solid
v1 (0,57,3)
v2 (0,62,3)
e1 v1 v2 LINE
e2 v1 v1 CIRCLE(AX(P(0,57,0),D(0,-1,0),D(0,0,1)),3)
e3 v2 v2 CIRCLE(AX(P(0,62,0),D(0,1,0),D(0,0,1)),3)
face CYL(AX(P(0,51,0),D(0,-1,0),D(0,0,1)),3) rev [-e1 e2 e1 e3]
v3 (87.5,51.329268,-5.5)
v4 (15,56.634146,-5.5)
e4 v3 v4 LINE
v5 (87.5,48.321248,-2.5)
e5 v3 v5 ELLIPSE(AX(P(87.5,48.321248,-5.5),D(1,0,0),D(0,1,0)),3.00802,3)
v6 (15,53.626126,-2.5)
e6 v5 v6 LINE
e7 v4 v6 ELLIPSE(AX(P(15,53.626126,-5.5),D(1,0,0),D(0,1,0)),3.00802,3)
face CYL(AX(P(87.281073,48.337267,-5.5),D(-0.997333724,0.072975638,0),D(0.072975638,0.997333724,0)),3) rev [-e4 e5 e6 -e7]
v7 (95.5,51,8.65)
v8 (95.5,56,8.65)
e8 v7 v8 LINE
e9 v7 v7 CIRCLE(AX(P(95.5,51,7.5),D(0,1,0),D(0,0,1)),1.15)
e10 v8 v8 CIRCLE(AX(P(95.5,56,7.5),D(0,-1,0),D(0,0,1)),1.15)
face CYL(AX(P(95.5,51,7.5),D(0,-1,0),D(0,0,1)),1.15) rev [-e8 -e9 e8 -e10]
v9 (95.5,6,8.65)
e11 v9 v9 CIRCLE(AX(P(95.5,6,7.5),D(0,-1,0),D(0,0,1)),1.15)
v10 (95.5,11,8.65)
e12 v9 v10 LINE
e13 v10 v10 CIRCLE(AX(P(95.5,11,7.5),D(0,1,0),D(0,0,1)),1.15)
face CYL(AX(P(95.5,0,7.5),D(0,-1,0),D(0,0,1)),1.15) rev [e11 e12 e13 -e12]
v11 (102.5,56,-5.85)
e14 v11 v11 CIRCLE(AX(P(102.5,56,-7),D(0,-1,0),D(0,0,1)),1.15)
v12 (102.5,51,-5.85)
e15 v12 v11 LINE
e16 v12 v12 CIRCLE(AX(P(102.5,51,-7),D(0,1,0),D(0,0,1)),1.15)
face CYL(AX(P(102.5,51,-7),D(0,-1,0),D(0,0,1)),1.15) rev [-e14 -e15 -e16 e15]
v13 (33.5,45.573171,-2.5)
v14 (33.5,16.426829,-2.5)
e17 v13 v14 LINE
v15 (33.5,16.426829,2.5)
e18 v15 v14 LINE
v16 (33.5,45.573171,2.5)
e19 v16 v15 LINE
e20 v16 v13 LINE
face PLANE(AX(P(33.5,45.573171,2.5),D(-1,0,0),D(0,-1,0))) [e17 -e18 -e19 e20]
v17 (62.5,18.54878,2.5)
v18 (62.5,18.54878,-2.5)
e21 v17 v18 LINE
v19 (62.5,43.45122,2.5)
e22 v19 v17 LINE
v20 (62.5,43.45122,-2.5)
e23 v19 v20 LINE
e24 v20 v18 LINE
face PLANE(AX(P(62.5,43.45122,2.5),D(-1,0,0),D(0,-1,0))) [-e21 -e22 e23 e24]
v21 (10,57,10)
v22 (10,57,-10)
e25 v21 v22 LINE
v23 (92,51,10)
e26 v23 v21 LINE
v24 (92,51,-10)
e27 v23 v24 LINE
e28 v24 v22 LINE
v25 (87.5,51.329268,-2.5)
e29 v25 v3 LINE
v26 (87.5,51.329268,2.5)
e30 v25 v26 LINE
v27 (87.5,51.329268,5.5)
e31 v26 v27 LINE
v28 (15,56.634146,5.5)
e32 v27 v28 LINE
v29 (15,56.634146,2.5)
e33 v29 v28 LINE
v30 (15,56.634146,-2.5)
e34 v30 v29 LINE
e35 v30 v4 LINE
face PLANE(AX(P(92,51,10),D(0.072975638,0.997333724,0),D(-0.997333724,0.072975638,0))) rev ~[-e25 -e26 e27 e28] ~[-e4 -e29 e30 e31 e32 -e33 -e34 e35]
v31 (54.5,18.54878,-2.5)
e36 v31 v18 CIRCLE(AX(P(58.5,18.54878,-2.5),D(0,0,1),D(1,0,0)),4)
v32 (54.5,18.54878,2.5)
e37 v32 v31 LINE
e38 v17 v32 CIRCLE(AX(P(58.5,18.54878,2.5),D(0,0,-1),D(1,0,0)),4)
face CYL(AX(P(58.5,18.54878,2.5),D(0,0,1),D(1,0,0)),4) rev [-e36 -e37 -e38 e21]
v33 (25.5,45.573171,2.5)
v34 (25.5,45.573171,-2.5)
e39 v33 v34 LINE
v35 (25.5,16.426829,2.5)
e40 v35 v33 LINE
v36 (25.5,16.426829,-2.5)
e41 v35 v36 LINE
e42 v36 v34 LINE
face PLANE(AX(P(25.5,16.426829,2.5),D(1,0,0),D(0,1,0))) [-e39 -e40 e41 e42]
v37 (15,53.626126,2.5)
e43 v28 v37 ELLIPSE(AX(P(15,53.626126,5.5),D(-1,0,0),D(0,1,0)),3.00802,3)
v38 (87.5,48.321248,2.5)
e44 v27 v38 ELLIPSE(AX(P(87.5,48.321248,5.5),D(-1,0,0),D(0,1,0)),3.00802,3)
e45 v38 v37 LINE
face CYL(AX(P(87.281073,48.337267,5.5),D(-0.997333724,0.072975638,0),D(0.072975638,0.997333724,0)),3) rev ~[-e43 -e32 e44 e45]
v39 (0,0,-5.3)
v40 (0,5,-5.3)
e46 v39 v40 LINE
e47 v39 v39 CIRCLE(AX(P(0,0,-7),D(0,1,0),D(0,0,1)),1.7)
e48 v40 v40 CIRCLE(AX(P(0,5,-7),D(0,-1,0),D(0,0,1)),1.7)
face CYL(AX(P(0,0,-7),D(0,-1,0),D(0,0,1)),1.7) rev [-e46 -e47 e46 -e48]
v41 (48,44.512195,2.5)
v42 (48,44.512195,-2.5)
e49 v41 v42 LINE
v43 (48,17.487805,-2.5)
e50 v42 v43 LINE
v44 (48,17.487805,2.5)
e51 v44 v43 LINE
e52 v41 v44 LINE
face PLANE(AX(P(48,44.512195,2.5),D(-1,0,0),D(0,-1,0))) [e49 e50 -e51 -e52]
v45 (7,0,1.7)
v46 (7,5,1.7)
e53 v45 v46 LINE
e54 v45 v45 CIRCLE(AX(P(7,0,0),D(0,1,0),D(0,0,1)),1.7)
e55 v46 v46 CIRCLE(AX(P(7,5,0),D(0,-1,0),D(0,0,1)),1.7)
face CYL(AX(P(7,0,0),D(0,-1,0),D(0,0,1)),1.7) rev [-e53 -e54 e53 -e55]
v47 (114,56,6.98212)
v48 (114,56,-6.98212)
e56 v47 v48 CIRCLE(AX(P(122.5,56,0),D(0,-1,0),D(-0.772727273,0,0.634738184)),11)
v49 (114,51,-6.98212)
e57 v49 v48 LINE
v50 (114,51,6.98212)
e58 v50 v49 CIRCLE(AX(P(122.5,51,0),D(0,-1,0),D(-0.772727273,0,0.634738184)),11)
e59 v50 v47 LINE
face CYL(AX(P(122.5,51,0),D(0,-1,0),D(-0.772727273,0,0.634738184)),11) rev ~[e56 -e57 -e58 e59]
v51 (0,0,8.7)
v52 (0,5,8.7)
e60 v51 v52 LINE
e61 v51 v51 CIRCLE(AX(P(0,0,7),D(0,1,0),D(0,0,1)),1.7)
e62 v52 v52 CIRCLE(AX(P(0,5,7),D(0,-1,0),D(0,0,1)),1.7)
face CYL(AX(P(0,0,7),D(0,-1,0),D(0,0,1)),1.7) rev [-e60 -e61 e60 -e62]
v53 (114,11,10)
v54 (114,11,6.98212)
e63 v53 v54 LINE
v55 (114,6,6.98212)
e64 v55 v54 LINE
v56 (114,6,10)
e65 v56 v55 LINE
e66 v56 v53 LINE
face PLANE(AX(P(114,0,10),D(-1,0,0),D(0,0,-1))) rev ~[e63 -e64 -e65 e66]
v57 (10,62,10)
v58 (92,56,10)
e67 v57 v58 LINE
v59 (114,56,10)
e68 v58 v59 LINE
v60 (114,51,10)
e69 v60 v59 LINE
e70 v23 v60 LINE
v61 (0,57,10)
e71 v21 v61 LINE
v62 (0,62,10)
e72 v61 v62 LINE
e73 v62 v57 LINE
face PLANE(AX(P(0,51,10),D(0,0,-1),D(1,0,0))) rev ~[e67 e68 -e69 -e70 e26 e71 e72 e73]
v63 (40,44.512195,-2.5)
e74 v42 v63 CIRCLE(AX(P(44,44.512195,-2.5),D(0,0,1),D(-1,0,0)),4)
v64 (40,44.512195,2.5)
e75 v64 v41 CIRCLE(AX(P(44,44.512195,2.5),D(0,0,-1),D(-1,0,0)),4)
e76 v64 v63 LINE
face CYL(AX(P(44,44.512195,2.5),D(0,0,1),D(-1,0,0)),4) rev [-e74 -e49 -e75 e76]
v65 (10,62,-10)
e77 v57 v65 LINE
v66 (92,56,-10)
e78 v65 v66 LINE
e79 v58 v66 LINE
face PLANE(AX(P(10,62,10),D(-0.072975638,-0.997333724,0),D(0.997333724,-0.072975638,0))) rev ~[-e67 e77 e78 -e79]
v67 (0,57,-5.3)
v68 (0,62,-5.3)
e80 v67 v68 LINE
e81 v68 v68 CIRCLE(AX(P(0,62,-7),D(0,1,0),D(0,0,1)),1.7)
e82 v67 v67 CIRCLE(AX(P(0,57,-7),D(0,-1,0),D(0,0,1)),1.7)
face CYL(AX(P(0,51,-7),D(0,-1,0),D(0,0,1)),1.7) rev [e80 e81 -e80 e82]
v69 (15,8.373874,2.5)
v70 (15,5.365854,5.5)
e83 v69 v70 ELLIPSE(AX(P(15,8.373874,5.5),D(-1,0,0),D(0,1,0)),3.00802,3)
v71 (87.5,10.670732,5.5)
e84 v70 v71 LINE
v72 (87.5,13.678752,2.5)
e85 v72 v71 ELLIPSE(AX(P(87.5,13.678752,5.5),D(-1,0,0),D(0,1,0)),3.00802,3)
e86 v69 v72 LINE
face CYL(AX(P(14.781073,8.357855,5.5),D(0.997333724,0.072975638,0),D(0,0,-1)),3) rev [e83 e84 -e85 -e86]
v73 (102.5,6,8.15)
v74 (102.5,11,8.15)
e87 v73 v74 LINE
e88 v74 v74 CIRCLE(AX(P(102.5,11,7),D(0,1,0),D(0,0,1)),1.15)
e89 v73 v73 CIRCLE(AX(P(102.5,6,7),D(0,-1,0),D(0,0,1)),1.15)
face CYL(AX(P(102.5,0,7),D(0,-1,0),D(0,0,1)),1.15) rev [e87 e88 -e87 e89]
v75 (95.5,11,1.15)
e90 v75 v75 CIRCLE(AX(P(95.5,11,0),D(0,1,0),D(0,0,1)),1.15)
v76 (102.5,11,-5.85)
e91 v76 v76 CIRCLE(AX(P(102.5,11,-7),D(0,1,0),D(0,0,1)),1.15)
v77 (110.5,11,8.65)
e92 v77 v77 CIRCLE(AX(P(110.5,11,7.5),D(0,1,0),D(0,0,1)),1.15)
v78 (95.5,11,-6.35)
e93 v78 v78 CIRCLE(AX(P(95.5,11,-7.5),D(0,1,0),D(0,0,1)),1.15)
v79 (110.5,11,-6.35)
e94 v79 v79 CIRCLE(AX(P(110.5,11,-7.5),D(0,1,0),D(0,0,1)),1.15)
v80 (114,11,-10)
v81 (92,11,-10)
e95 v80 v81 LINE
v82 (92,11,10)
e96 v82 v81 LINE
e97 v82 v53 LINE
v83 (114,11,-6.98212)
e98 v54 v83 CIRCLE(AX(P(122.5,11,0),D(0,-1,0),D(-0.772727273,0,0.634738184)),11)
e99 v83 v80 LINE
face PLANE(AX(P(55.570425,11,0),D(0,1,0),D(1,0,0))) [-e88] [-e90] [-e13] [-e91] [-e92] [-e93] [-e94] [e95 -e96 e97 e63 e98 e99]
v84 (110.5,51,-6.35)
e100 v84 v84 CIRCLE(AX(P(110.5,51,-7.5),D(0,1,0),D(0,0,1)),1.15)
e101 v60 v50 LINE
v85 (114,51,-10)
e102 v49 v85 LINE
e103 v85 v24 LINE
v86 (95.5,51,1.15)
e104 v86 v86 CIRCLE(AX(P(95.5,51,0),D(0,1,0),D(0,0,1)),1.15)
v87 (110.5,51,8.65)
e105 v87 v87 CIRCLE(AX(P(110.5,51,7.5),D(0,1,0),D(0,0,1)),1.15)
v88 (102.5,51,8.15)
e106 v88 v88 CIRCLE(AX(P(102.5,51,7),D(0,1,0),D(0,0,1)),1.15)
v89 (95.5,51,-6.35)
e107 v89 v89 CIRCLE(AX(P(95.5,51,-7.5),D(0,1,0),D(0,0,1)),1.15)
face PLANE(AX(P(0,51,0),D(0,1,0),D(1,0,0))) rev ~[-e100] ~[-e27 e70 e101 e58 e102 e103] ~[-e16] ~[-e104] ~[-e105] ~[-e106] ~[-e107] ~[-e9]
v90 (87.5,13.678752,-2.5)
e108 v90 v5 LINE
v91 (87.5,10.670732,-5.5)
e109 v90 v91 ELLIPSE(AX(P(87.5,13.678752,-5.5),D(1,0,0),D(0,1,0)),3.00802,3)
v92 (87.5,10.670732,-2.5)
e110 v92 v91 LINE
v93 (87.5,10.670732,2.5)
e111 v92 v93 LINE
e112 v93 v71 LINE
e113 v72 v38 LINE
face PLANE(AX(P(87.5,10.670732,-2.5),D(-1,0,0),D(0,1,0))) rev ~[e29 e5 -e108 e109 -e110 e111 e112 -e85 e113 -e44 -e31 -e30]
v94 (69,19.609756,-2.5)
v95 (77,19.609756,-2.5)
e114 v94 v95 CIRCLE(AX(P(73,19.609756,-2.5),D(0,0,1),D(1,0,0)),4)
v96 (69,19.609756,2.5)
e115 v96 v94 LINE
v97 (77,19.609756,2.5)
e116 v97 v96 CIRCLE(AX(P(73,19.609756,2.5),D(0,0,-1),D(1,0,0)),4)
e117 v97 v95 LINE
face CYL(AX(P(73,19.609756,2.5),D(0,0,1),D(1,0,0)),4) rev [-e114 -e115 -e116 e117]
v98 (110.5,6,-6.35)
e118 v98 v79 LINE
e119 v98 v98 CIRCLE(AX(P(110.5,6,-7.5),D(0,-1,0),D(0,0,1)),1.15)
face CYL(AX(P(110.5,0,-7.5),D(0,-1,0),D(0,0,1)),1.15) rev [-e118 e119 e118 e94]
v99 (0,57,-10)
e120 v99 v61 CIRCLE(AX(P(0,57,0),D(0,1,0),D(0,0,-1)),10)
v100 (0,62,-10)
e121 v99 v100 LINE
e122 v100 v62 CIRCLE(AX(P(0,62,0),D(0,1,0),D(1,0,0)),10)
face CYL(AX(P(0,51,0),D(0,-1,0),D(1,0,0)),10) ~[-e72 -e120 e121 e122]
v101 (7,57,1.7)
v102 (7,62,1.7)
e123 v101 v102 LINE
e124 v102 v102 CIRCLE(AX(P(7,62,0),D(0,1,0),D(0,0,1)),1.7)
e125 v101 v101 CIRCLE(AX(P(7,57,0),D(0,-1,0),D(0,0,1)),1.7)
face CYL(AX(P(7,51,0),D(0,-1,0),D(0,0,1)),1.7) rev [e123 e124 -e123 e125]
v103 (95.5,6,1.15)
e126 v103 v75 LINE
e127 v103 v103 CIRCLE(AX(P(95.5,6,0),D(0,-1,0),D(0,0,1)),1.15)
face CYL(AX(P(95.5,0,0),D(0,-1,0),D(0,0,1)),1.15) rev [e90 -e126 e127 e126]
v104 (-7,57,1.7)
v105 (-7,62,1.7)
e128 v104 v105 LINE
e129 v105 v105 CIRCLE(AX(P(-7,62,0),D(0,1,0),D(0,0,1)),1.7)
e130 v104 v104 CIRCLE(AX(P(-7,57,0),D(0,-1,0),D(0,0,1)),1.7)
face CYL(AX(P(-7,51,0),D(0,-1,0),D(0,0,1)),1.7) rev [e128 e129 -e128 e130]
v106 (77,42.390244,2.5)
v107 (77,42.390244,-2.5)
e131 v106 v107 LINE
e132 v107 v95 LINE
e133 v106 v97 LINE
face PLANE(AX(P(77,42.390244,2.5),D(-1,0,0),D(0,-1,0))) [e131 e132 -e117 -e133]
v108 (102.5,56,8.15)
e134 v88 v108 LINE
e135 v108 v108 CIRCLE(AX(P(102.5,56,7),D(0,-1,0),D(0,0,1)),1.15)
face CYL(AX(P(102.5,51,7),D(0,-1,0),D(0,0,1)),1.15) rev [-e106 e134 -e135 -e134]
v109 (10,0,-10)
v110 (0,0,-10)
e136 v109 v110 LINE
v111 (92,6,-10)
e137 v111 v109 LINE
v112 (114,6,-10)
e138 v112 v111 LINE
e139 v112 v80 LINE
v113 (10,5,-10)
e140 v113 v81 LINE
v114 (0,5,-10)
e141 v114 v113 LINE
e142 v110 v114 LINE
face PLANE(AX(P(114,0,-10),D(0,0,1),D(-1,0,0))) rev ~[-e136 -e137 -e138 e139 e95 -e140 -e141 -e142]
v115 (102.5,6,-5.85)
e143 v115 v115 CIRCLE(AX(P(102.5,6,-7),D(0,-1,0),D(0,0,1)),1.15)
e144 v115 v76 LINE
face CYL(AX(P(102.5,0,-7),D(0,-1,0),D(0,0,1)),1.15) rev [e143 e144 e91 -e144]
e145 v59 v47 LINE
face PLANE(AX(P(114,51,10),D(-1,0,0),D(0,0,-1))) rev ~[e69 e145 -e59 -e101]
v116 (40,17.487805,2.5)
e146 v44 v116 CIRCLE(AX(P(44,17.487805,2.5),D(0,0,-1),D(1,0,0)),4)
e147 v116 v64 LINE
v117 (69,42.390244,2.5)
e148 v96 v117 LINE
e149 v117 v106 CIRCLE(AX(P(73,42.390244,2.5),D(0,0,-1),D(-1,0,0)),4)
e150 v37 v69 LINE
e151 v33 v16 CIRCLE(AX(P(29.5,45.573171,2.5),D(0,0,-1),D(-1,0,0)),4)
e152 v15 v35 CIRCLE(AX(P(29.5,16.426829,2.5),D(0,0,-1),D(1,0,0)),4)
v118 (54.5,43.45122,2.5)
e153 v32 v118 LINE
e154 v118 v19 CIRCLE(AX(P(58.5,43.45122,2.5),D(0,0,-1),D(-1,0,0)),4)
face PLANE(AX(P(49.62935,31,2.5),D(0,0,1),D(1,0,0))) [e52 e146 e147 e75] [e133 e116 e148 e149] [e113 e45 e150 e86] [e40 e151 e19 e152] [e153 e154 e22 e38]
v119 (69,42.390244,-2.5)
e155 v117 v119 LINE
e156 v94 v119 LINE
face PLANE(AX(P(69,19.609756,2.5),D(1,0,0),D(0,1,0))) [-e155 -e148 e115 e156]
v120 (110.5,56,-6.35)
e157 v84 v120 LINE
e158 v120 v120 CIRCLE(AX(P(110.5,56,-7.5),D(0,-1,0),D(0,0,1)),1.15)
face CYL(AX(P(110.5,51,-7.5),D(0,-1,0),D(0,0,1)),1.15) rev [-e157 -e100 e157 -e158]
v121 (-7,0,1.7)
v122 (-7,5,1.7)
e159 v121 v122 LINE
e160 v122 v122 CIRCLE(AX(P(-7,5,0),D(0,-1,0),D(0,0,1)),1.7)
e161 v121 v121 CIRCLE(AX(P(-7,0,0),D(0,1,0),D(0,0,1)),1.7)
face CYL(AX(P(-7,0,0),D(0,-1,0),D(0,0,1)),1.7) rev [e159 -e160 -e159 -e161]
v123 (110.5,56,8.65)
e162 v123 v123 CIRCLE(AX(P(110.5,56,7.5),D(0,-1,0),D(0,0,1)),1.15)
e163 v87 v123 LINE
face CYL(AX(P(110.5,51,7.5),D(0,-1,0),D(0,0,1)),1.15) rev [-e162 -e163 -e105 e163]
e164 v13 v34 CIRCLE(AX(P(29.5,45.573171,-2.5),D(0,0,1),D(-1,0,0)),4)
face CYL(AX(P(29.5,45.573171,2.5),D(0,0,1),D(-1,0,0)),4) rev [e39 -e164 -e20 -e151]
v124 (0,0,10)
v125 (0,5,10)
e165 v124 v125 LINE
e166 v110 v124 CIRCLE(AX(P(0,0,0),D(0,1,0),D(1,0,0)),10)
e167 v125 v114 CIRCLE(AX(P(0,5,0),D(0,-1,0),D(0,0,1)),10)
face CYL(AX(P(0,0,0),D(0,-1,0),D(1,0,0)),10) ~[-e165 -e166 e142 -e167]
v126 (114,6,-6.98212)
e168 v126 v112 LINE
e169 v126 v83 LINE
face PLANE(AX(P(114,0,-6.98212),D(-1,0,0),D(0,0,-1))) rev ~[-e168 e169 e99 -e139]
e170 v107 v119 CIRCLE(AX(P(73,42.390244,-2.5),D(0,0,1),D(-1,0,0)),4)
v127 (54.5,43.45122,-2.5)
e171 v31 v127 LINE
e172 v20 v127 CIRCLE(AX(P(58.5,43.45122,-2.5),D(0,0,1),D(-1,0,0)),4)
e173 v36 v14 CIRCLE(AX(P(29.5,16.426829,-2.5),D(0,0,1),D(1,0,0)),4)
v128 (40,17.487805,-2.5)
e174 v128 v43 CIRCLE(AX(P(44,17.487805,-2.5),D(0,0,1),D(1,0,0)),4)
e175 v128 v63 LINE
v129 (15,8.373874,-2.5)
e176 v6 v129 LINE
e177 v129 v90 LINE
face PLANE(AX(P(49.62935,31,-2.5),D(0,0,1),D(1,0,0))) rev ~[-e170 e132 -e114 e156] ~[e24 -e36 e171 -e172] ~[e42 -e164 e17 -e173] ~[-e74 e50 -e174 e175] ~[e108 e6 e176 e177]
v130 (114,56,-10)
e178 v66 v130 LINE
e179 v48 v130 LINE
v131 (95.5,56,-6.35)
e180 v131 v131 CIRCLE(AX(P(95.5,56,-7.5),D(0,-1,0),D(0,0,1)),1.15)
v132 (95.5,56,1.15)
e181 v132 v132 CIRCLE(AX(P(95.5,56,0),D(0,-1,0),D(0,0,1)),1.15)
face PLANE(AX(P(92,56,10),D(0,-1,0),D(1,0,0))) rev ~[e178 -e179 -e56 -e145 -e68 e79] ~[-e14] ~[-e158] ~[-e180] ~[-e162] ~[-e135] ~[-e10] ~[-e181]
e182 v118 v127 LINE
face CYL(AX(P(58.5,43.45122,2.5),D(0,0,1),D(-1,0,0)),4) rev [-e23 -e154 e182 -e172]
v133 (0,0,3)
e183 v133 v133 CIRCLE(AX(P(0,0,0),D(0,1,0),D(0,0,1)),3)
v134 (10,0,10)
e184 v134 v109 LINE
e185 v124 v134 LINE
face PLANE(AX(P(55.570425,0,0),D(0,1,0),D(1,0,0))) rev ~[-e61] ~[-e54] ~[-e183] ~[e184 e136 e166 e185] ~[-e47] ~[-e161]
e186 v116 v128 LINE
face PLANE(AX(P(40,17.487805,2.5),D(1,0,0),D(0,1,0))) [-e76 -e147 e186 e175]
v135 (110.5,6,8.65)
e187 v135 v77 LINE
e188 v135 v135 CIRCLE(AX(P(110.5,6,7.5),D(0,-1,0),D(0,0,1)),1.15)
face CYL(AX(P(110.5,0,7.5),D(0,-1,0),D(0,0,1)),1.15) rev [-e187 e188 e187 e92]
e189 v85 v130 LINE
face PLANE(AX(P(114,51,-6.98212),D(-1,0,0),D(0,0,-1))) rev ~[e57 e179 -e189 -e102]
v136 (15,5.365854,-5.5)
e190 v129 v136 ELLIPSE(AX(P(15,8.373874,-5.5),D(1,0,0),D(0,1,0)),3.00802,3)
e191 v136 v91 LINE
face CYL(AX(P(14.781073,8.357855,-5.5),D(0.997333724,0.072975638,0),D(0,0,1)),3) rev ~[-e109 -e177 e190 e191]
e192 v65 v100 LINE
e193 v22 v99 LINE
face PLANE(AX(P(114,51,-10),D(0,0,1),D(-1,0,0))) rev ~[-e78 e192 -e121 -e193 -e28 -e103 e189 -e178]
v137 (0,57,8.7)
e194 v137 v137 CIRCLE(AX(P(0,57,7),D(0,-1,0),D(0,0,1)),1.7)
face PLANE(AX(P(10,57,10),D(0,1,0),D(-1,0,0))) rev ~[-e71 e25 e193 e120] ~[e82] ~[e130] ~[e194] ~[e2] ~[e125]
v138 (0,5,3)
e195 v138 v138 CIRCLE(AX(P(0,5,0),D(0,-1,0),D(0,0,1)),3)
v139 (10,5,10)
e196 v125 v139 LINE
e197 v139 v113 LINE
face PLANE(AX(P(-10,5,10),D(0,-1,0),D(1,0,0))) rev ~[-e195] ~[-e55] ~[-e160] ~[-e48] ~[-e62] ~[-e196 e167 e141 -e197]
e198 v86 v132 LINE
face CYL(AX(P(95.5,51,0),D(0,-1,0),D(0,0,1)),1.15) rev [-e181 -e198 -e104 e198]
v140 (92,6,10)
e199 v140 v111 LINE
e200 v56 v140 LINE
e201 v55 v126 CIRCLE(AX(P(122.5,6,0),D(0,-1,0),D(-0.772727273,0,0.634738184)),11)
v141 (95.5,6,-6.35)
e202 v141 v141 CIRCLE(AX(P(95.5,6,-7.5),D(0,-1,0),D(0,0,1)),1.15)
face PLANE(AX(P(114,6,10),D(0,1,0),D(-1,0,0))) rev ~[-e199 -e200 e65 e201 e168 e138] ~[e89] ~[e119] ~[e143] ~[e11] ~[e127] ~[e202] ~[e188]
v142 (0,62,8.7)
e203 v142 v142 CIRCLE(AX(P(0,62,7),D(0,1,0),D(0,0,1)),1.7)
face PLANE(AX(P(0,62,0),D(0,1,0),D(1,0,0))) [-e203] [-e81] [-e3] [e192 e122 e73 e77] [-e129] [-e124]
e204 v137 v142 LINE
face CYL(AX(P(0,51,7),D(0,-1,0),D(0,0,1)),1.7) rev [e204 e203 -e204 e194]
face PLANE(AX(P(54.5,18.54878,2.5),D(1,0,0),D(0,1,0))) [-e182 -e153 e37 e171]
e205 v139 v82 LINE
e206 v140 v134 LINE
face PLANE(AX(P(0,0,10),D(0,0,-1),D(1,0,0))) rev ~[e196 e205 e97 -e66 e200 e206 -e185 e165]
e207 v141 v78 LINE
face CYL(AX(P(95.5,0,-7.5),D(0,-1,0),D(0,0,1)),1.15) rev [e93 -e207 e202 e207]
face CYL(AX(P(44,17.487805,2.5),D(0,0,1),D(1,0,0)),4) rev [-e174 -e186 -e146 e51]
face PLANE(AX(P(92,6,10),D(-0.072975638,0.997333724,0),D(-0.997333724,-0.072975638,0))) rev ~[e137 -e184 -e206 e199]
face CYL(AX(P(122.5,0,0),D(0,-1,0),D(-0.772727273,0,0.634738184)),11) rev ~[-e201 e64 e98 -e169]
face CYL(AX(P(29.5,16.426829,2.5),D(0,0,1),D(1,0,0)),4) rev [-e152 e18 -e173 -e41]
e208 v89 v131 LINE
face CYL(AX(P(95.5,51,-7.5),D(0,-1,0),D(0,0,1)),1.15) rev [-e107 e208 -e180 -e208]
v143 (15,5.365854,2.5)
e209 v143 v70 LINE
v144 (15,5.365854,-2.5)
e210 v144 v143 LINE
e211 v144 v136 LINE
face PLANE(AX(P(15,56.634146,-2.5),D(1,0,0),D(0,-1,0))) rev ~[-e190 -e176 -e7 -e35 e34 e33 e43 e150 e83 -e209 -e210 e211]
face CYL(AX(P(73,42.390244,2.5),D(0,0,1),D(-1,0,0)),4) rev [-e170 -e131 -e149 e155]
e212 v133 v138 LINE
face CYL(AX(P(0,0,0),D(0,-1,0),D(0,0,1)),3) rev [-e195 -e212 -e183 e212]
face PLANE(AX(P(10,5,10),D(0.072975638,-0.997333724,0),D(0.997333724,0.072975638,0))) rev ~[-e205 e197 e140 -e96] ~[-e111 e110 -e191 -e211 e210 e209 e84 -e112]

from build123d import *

# Parameters (mm, degrees)
SKETCH_1_R           = 1.15
SKETCH_1_R_2         = 1.7
SKETCH_1_R_3         = 3
EXTRUDE_1_DEPTH      = 11
EXTRUDE_START        = 51
SKETCH_1_3_R         = 1.15
SKETCH_1_3_R_2       = 1.7
SKETCH_1_3_R_3       = 3
EXTRUDE_2_DEPTH      = 11
CUT_EXTRUDE_1_DEPTH  = 132.301180497
EXTRUDE_4_DEPTH      = 2.5
EXTRUDE_4_DEPTH_BACK = 2.5
CUT_EXTRUDE_2_DEPTH  = 131.369666717
FILLET_1_R           = 3


with BuildPart() as part:
    # 草图1 → 凸台-拉伸1 (new body)
    with BuildSketch(Plane(origin=(0, 0, 0), x_dir=(1, 0, 0), z_dir=(0, 1, 0))):
        with BuildLine():
            Line((114, 10), (0, 10))
            ThreePointArc((0, 10), (-10, 0), (0, -10))
            Line((0, -10), (114, -10))
            Line((114, -10), (114, -6.982120022))
            ThreePointArc((114, -6.982120022), (111.5, 0), (114, 6.982120022))
            Line((114, 6.982120022), (114, 10))
        make_face()
        with Locations((95.5, -7.5)):
            Circle(SKETCH_1_R, mode=Mode.SUBTRACT)
        with Locations((102.5, -7)):
            Circle(SKETCH_1_R, mode=Mode.SUBTRACT)
        with Locations((110.5, -7.5)):
            Circle(SKETCH_1_R, mode=Mode.SUBTRACT)
        with Locations((95.5, 0)):
            Circle(SKETCH_1_R, mode=Mode.SUBTRACT)
        with Locations((95.5, 7.5)):
            Circle(SKETCH_1_R, mode=Mode.SUBTRACT)
        with Locations((102.5, 7)):
            Circle(SKETCH_1_R, mode=Mode.SUBTRACT)
        with Locations((110.5, 7.5)):
            Circle(SKETCH_1_R, mode=Mode.SUBTRACT)
        with Locations((7, 0)):
            Circle(SKETCH_1_R_2, mode=Mode.SUBTRACT)
        with Locations((0, 7)):
            Circle(SKETCH_1_R_2, mode=Mode.SUBTRACT)
        with Locations((0, -7)):
            Circle(SKETCH_1_R_2, mode=Mode.SUBTRACT)
        with Locations((-7, 0)):
            Circle(SKETCH_1_R_2, mode=Mode.SUBTRACT)
        Circle(SKETCH_1_R_3, mode=Mode.SUBTRACT)
    extrude(amount=EXTRUDE_1_DEPTH)


with BuildPart() as body_2:
    # 草图1<3> → 凸台-拉伸2 (new body)
    with BuildSketch(Plane(origin=(0, 0, 0), x_dir=(1, 0, 0), z_dir=(0, 1, 0)).offset(EXTRUDE_START)):
        with BuildLine():
            Line((114, 10), (0, 10))
            ThreePointArc((0, 10), (-10, 0), (0, -10))
            Line((0, -10), (114, -10))
            Line((114, -10), (114, -6.982120022))
            ThreePointArc((114, -6.982120022), (111.5, 0), (114, 6.982120022))
            Line((114, 6.982120022), (114, 10))
        make_face()
        with Locations((95.5, -7.5)):
            Circle(SKETCH_1_3_R, mode=Mode.SUBTRACT)
        with Locations((102.5, -7)):
            Circle(SKETCH_1_3_R, mode=Mode.SUBTRACT)
        with Locations((110.5, -7.5)):
            Circle(SKETCH_1_3_R, mode=Mode.SUBTRACT)
        with Locations((95.5, 0)):
            Circle(SKETCH_1_3_R, mode=Mode.SUBTRACT)
        with Locations((95.5, 7.5)):
            Circle(SKETCH_1_3_R, mode=Mode.SUBTRACT)
        with Locations((102.5, 7)):
            Circle(SKETCH_1_3_R, mode=Mode.SUBTRACT)
        with Locations((110.5, 7.5)):
            Circle(SKETCH_1_3_R, mode=Mode.SUBTRACT)
        with Locations((7, 0)):
            Circle(SKETCH_1_3_R_2, mode=Mode.SUBTRACT)
        with Locations((0, 7)):
            Circle(SKETCH_1_3_R_2, mode=Mode.SUBTRACT)
        with Locations((0, -7)):
            Circle(SKETCH_1_3_R_2, mode=Mode.SUBTRACT)
        with Locations((-7, 0)):
            Circle(SKETCH_1_3_R_2, mode=Mode.SUBTRACT)
        Circle(SKETCH_1_3_R_3, mode=Mode.SUBTRACT)
    extrude(amount=EXTRUDE_2_DEPTH)


with BuildPart() as cut_extrude_1_tool:
    # 草图4 → 切除-拉伸1 (new, through all)
    with BuildSketch(Plane.XY.offset(10)):
        Polygon((-10, 57), (-10, 5), (10, 5), (92, 11), (114, 11), (114, 51), (92, 51), (10, 57), align=None)
        Polygon((114, 62), (10, 62), (92, 56), (114, 56), align=None)
        Polygon((92, 6), (10, 0), (114, 0), (114, 6), align=None)
    extrude(amount=-CUT_EXTRUDE_1_DEPTH)


with BuildPart() as part_1:
    add(part.part)

    # 切除-拉伸1: cut by cut_extrude_1_tool
    add(cut_extrude_1_tool.part, mode=Mode.SUBTRACT)



with BuildPart() as body_2_1:
    add(body_2.part)

    # 切除-拉伸1: cut by cut_extrude_1_tool
    add(cut_extrude_1_tool.part, mode=Mode.SUBTRACT)


with BuildPart() as part_2:
    add(part_1.part)

    add(body_2_1.part)  # 凸台-拉伸4 merges body 2
    # 草图5 → 凸台-拉伸4 (add, two sides: drawn at the far end of the back side and taken through both)
    with BuildSketch(Plane.XY.offset(-EXTRUDE_4_DEPTH_BACK)):
        Polygon((15, 56.634146341), (15, 5.365853659), (87.5, 10.670731707), (87.5, 51.329268293), align=None)
    extrude(amount=EXTRUDE_4_DEPTH + EXTRUDE_4_DEPTH_BACK)

    # 草图9 → 切除-拉伸2 (cut, through all)
    with BuildSketch(Plane.XY.offset(2.5)):
        with BuildLine():
            Line((33.5, 45.573170732), (33.5, 16.426829268))
            ThreePointArc((33.5, 16.426829268), (29.5, 12.426829268), (25.5, 16.426829268))
            Line((25.5, 16.426829268), (25.5, 45.573170732))
            ThreePointArc((25.5, 45.573170732), (29.5, 49.573170732), (33.5, 45.573170732))
        make_face()
        with BuildLine():
            Line((48, 44.512195122), (48, 17.487804878))
            ThreePointArc((48, 17.487804878), (44, 13.487804878), (40, 17.487804878))
            Line((40, 17.487804878), (40, 44.512195122))
            ThreePointArc((40, 44.512195122), (44, 48.512195122), (48, 44.512195122))
        make_face()
        with BuildLine():
            Line((62.5, 43.451219512), (62.5, 18.548780488))
            ThreePointArc((62.5, 18.548780488), (58.5, 14.548780488), (54.5, 18.548780488))
            Line((54.5, 18.548780488), (54.5, 43.451219512))
            ThreePointArc((54.5, 43.451219512), (58.5, 47.451219512), (62.5, 43.451219512))
        make_face()
        with BuildLine():
            Line((77, 42.390243902), (77, 19.609756098))
            ThreePointArc((77, 19.609756098), (73, 15.609756098), (69, 19.609756098))
            Line((69, 19.609756098), (69, 42.390243902))
            ThreePointArc((69, 42.390243902), (73, 46.390243902), (77, 42.390243902))
        make_face()
    extrude(amount=-CUT_EXTRUDE_2_DEPTH, mode=Mode.SUBTRACT)

    # 圆角1
    fillet_1_edges = [part_2.edges().sort_by_distance(p)[0] for p in [
        (51.25, 8.018292683, -2.5),
        (51.25, 53.981707317, -2.5),
        (51.25, 53.981707317, 2.5),
        (51.25, 8.018292683, 2.5),
    ]]
    fillet(fillet_1_edges, radius=FILLET_1_R)


solid = part_2.part
